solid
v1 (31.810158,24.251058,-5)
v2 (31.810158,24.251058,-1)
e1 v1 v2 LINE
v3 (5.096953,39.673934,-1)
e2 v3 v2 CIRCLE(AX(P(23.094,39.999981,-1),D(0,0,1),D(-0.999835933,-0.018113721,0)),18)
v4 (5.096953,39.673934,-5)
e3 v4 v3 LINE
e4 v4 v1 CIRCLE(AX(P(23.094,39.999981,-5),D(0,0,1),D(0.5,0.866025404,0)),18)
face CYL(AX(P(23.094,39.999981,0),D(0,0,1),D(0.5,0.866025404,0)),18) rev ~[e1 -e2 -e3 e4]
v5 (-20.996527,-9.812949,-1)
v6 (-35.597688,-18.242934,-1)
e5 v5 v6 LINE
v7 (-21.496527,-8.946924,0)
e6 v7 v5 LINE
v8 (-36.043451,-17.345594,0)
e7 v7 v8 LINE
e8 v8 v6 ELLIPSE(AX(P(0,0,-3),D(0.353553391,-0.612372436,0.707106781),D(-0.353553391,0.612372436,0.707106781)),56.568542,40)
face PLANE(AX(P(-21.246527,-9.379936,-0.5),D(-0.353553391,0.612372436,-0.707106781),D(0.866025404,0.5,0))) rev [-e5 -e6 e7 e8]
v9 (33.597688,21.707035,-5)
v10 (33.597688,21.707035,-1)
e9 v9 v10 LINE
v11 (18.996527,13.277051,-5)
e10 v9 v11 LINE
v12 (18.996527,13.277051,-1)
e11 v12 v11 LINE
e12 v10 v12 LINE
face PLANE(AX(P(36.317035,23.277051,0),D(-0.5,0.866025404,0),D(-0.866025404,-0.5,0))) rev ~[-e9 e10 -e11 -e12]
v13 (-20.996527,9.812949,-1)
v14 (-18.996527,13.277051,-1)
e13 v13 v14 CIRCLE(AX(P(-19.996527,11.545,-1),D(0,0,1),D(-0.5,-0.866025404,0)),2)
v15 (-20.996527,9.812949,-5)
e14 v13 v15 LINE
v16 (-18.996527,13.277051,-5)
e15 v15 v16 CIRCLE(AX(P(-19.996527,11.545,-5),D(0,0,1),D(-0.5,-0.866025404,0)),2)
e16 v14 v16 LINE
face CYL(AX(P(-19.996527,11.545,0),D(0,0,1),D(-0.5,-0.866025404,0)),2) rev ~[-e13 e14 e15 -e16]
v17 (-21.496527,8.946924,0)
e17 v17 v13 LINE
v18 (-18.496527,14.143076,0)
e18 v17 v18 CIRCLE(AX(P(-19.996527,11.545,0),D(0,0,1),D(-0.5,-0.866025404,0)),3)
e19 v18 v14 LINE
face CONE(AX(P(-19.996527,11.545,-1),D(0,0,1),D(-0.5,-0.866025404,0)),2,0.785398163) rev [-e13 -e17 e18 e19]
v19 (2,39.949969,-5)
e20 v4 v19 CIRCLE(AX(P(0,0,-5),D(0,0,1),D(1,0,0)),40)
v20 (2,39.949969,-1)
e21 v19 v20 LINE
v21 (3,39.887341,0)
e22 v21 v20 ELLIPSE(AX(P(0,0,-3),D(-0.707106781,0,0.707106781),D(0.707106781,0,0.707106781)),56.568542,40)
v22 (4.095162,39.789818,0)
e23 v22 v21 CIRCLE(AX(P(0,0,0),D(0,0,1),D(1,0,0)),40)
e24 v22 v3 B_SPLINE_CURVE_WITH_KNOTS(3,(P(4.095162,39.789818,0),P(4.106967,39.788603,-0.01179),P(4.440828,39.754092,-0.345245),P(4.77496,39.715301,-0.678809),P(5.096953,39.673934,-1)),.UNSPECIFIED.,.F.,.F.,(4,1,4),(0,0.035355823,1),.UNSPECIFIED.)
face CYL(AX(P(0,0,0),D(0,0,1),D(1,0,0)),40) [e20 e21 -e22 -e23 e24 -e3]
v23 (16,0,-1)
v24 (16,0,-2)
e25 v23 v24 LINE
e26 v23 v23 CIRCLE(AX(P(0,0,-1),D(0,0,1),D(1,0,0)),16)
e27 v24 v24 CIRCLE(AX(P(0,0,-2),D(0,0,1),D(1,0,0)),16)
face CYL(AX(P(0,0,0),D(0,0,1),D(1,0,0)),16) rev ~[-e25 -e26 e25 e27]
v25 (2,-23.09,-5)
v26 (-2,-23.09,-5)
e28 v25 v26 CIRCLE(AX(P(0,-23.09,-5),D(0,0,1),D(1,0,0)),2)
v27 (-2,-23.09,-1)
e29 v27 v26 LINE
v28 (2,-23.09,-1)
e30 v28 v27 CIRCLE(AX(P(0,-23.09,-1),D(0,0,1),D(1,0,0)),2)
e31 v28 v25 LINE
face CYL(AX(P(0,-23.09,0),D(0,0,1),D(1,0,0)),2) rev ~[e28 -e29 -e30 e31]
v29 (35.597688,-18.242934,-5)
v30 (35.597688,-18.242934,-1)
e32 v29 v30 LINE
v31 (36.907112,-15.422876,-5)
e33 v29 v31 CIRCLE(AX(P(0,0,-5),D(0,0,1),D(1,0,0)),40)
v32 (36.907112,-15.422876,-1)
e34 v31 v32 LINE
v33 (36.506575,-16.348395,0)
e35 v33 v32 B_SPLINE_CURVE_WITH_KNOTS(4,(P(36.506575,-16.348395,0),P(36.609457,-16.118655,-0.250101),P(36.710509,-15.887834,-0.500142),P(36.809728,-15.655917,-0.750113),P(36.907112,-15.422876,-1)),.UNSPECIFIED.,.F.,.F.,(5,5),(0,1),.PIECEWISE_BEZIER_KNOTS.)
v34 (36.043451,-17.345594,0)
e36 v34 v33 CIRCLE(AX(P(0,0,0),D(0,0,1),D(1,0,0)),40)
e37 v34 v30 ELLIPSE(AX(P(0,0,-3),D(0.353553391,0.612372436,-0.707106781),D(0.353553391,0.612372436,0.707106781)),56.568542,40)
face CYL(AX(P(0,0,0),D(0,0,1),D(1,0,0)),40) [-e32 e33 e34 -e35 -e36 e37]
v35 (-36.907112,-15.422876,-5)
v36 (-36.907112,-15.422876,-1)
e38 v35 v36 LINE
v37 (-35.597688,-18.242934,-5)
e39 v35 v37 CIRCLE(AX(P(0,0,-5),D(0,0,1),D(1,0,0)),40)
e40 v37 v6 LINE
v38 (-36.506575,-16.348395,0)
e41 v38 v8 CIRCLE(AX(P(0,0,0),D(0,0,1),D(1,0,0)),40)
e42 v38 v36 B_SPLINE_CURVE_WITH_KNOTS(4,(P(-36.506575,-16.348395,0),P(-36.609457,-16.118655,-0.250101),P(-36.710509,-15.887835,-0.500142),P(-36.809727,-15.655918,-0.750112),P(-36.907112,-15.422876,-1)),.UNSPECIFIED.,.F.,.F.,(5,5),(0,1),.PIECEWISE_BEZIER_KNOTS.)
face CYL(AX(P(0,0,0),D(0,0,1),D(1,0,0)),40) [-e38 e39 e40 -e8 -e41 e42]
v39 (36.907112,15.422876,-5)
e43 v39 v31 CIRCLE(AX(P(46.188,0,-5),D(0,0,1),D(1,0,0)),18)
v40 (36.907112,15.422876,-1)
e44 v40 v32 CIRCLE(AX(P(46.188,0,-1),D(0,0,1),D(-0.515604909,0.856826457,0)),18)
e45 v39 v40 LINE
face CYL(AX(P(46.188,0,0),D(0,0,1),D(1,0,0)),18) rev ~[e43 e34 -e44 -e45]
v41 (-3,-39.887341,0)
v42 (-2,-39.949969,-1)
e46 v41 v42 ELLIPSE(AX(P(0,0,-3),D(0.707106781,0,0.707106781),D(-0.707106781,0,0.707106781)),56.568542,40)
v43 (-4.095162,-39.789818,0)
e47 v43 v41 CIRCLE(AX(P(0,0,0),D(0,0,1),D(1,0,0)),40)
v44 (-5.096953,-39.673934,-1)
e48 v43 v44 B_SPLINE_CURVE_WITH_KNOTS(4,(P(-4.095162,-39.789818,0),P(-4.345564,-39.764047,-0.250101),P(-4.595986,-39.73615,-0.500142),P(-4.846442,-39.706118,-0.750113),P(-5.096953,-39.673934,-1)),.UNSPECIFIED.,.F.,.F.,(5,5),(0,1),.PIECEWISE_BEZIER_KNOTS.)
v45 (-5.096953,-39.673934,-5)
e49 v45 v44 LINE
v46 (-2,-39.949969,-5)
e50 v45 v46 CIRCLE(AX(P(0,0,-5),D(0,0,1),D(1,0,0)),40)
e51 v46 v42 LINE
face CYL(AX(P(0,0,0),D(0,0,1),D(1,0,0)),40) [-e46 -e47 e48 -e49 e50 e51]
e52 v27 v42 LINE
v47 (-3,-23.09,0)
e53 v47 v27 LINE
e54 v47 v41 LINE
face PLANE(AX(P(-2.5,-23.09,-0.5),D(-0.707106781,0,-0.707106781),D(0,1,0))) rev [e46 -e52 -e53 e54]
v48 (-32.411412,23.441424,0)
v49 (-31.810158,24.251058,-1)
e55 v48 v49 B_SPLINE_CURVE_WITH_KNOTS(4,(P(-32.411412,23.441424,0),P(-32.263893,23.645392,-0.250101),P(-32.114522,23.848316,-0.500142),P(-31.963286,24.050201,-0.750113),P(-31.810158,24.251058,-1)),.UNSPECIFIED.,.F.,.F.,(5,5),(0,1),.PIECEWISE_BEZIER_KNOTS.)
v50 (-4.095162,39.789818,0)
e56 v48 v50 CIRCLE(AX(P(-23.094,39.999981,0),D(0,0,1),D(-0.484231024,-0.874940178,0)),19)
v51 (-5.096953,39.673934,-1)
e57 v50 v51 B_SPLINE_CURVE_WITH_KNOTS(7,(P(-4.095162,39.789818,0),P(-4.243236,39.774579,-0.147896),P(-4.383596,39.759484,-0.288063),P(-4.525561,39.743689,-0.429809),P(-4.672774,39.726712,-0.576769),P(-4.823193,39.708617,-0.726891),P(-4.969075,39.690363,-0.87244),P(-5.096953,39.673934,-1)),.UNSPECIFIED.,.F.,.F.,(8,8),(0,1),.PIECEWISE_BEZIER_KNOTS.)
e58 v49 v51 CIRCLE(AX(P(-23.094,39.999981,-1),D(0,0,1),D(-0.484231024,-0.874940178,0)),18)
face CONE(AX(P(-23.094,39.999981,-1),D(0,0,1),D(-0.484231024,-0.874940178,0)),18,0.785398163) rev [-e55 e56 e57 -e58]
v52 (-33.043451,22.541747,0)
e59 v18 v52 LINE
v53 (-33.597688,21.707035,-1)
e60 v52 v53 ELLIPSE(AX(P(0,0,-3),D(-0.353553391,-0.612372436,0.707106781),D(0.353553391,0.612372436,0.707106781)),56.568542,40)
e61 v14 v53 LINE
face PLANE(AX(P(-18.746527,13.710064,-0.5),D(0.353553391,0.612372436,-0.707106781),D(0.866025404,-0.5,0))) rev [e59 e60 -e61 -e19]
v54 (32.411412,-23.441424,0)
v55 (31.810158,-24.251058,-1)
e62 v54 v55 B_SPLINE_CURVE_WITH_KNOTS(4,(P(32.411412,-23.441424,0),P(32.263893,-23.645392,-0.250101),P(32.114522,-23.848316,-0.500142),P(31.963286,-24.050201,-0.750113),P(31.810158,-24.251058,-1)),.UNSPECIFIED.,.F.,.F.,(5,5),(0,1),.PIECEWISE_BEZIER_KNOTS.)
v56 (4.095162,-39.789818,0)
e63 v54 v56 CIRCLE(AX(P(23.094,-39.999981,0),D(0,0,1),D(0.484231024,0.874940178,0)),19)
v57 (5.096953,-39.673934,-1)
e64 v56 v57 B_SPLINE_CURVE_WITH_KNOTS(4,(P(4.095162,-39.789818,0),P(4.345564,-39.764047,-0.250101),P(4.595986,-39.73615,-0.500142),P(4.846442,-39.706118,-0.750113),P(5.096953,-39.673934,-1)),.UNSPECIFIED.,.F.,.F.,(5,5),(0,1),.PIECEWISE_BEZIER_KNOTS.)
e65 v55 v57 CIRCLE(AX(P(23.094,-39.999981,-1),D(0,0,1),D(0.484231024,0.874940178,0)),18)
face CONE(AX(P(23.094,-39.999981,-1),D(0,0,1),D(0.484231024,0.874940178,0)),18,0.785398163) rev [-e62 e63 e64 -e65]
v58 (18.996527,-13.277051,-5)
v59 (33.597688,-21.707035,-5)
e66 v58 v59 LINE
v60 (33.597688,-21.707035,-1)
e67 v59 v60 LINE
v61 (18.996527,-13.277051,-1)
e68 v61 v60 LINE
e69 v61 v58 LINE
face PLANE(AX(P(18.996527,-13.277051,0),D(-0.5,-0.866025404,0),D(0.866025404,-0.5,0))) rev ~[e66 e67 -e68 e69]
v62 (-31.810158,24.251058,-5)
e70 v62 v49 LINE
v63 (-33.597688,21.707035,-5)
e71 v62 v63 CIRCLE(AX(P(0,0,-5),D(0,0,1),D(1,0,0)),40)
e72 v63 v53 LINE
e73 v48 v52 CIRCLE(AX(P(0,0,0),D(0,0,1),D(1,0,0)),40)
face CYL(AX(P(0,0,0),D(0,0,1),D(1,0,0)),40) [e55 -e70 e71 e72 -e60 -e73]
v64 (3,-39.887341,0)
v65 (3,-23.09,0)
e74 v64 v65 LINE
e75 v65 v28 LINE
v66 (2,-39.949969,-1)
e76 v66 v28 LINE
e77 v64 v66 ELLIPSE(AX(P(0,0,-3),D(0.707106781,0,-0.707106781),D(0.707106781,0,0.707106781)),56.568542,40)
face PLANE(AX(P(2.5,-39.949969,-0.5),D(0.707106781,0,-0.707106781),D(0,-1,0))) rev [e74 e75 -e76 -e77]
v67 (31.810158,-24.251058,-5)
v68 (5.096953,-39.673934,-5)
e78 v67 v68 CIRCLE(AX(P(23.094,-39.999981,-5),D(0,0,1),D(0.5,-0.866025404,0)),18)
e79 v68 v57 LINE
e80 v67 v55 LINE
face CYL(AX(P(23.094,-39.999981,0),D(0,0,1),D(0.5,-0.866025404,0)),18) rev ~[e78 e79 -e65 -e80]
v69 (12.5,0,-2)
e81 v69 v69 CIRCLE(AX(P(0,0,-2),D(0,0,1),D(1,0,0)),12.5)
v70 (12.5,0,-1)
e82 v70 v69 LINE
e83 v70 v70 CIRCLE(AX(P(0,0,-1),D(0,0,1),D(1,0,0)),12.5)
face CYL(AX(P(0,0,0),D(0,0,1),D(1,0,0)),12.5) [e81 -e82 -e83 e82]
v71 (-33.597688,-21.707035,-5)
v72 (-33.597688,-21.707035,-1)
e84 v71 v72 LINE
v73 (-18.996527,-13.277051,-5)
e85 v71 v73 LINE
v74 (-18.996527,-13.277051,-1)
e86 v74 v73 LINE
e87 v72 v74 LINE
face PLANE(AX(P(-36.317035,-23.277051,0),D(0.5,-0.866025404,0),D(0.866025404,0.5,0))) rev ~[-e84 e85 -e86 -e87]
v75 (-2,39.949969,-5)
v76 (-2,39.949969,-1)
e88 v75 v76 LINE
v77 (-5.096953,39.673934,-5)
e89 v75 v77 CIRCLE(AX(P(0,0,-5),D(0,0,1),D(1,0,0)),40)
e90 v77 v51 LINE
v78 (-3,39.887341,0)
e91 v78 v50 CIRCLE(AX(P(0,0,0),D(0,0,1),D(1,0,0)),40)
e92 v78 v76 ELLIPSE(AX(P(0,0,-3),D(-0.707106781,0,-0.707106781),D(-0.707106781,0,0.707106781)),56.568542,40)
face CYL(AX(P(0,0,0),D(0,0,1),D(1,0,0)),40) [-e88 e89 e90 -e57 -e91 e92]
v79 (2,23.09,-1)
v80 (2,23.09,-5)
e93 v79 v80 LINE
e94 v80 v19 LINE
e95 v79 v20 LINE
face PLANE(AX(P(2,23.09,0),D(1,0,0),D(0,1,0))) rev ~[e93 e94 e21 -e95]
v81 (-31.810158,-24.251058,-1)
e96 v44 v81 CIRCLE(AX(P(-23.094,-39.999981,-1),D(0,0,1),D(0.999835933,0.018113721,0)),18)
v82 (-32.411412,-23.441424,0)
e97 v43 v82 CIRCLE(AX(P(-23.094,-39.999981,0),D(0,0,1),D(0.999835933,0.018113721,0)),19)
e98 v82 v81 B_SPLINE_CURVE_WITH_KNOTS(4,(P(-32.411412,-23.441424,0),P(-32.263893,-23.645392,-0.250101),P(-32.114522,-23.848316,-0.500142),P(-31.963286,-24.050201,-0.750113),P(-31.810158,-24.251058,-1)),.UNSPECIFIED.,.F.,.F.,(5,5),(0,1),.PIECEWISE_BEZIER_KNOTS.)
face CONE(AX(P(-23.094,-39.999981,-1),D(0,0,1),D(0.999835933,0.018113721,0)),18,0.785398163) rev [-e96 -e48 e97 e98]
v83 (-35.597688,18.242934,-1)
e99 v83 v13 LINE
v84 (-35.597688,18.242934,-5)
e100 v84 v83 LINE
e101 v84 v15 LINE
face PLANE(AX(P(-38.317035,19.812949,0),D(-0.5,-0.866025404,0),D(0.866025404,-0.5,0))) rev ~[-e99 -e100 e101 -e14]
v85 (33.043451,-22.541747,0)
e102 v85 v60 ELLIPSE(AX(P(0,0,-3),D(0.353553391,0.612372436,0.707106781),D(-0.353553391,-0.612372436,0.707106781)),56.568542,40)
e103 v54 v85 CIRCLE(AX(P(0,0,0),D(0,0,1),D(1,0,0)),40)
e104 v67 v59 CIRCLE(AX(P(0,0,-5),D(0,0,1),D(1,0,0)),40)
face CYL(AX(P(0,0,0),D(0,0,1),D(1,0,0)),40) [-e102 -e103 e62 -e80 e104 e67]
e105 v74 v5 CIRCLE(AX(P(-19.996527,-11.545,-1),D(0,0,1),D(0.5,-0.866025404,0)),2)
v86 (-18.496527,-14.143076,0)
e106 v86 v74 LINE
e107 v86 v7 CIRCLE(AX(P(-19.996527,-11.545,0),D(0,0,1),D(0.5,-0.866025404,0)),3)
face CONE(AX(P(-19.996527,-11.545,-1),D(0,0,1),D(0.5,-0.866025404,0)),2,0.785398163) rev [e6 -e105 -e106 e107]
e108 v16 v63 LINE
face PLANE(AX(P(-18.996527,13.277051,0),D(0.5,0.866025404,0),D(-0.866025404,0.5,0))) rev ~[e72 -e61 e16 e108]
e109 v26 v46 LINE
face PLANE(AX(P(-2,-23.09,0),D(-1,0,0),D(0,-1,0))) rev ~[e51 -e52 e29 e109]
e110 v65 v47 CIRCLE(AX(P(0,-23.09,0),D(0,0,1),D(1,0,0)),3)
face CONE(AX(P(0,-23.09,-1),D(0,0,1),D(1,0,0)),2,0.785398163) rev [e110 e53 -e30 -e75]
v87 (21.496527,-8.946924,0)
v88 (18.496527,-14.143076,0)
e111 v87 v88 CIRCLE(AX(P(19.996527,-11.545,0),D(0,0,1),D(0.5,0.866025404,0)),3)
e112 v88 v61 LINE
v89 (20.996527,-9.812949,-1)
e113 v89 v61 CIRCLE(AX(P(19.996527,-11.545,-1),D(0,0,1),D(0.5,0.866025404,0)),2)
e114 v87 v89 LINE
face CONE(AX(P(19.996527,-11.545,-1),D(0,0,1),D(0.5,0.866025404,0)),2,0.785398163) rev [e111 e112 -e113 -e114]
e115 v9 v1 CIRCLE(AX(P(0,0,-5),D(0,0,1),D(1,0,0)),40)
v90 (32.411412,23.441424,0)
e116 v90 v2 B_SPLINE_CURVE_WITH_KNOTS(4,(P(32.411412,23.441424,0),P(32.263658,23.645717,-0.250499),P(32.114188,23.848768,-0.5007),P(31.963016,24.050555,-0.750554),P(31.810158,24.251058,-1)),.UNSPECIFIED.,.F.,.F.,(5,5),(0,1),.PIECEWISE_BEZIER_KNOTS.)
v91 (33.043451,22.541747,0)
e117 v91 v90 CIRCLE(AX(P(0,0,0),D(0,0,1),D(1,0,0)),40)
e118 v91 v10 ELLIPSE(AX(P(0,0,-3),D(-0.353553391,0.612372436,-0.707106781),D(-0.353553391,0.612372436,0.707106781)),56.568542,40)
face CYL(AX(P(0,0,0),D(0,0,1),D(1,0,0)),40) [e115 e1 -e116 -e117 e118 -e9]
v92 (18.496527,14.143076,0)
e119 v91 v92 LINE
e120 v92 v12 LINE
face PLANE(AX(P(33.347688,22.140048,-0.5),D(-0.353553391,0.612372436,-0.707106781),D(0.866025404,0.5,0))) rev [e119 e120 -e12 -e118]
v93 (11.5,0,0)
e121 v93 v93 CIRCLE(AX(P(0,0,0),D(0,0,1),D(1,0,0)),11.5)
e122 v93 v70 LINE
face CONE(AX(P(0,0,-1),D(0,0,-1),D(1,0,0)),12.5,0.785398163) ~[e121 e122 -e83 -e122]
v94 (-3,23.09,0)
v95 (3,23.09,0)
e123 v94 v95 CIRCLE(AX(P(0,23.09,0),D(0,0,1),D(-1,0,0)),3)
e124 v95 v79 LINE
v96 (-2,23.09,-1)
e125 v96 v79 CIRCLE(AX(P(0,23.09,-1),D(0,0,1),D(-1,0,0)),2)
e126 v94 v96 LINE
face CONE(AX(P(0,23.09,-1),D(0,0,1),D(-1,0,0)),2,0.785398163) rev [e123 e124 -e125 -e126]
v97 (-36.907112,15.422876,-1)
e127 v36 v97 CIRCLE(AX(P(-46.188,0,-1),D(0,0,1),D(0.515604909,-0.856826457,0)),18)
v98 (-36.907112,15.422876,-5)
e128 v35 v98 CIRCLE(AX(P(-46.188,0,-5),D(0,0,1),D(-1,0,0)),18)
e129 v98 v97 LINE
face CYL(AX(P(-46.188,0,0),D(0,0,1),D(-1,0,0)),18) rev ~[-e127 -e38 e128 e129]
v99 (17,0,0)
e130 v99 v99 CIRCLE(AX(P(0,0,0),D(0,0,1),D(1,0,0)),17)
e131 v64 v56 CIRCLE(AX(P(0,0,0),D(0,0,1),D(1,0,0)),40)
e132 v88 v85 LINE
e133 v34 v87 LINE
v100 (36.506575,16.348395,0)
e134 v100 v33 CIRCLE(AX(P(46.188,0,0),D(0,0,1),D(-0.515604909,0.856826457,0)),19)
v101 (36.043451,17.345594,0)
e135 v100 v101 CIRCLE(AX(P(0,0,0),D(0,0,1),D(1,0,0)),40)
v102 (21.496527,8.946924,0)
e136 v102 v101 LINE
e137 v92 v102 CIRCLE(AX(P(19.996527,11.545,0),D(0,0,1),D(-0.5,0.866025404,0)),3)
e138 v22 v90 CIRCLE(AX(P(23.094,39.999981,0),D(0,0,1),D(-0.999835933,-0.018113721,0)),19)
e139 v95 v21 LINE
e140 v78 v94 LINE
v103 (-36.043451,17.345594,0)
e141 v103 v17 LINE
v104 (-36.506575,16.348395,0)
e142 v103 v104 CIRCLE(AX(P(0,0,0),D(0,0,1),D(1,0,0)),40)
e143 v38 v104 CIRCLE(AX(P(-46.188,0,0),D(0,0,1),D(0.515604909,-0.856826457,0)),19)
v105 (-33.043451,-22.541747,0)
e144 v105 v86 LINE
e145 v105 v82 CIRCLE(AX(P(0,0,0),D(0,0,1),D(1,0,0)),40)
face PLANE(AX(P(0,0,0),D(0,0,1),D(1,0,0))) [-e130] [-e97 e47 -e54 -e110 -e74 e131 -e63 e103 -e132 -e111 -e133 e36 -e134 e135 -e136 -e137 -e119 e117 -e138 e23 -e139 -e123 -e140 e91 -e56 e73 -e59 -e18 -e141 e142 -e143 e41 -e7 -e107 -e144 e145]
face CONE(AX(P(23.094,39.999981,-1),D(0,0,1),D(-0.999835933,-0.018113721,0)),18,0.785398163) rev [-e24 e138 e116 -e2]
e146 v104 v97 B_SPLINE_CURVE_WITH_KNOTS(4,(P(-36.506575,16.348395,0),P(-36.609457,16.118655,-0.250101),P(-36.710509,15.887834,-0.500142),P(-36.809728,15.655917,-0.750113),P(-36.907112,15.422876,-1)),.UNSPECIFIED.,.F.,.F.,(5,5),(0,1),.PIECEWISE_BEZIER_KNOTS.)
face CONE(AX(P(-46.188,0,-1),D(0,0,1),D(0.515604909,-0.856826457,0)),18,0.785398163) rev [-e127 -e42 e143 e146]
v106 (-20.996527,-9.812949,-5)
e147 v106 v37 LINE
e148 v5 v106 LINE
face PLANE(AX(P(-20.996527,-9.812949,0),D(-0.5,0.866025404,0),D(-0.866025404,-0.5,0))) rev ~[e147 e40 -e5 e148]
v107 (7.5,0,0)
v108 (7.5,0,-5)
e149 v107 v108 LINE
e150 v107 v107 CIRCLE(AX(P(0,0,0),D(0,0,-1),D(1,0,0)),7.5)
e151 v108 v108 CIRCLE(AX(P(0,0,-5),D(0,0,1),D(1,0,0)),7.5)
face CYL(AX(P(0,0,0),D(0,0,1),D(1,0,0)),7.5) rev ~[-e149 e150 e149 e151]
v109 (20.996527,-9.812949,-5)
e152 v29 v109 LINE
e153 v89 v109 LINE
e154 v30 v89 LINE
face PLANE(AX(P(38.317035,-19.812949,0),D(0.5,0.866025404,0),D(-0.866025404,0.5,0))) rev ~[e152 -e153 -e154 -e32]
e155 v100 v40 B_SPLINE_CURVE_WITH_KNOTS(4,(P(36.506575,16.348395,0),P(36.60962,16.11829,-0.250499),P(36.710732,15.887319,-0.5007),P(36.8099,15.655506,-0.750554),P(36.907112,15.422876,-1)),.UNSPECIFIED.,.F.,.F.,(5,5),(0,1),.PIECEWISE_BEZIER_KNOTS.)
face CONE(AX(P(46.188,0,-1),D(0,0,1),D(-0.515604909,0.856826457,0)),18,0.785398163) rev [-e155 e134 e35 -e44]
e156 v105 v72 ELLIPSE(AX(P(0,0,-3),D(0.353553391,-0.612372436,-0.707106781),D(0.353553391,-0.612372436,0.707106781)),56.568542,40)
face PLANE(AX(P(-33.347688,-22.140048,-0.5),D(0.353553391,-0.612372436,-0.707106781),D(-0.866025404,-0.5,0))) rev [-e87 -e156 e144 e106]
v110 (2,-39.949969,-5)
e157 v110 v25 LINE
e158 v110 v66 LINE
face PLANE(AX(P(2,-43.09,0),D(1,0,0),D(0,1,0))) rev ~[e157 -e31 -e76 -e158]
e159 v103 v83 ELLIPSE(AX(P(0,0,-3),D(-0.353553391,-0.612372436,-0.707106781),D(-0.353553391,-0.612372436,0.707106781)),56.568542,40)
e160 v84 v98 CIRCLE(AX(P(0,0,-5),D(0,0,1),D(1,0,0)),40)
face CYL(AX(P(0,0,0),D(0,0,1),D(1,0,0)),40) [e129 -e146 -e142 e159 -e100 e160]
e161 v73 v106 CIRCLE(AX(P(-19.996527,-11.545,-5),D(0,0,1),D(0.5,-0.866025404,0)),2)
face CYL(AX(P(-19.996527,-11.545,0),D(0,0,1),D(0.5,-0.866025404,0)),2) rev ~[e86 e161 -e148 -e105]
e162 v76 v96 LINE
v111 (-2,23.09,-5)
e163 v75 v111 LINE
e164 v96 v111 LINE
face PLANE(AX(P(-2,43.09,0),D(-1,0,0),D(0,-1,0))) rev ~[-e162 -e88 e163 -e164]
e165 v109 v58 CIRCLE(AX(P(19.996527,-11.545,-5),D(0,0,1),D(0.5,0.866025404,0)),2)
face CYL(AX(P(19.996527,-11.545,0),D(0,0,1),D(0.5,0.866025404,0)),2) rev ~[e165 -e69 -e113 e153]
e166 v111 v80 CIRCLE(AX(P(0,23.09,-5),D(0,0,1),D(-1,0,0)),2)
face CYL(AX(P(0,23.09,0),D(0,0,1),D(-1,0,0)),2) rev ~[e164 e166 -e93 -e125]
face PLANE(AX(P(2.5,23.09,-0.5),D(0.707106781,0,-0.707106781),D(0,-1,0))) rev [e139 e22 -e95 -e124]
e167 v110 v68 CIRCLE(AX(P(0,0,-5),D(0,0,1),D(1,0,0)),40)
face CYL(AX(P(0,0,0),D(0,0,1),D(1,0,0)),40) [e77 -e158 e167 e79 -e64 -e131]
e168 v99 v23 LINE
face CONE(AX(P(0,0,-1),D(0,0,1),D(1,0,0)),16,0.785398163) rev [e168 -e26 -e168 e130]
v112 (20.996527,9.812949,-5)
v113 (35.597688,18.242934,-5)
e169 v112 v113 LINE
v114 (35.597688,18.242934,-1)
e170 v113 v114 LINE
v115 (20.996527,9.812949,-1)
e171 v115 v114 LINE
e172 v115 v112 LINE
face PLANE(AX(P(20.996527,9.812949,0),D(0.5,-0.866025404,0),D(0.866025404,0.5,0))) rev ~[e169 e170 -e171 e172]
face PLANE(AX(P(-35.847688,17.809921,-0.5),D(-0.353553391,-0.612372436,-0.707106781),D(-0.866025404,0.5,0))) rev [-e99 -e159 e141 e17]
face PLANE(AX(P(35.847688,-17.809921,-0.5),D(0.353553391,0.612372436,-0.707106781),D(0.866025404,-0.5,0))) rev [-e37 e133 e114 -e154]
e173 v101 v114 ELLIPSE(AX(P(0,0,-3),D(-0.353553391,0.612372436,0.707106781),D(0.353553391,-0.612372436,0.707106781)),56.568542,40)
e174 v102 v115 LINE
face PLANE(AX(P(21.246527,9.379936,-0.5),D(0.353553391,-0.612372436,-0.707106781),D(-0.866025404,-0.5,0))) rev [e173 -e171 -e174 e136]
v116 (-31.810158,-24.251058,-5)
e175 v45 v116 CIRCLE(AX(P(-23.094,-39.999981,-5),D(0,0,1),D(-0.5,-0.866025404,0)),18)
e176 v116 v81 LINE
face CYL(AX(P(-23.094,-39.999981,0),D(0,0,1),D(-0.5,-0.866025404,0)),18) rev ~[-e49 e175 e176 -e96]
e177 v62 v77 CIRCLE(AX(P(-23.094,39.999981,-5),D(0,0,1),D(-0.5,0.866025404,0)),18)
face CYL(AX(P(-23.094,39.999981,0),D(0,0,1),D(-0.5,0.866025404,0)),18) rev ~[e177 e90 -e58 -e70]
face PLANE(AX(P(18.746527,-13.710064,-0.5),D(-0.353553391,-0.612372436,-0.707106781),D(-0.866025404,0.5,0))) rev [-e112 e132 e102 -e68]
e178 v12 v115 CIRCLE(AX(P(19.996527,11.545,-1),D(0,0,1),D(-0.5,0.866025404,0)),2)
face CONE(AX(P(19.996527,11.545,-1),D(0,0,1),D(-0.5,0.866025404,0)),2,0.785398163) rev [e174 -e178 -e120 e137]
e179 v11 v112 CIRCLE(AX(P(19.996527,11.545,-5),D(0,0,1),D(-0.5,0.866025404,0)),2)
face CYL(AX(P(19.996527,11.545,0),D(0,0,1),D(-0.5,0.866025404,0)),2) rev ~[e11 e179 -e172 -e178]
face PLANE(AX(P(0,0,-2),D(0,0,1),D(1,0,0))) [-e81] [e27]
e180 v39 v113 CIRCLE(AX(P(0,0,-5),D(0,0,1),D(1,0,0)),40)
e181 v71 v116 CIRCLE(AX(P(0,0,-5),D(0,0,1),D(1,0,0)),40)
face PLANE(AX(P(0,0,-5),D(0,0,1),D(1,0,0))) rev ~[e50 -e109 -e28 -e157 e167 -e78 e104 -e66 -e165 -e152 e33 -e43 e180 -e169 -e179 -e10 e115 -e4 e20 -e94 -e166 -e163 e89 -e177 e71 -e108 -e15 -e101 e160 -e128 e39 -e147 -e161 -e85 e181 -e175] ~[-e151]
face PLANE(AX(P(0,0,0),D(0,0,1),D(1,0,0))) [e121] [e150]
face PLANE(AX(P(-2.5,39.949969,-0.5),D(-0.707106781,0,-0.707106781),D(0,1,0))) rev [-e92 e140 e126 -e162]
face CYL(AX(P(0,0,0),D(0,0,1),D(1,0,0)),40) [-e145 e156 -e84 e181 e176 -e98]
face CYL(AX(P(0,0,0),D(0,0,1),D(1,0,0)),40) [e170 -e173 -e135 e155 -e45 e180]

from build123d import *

# Parameters (mm, degrees)
SKETCH_R           = 40
PAD_DEPTH          = 5
SKETCH001_R        = 7.5
SKETCH001_R_2      = 18
POCKET_DEPTH       = 5
POLARPATTERN_COUNT = 6
SKETCH002_R        = 16
SKETCH002_R_2      = 12.5
POCKET001_DEPTH    = 2
CHAMFER_SIZE       = 1
CHAMFER001_SIZE    = 1


with BuildPart() as part:
    # Sketch → Pad (new body)
    with BuildSketch(Plane.XY):
        Circle(SKETCH_R)
    extrude(amount=-PAD_DEPTH)

    # Sketch001 → Pocket (cut)
    with BuildSketch(Plane.XY):
        Circle(SKETCH001_R)
        with Locations((46.188, 0)):
            Circle(SKETCH001_R_2)
        with BuildLine():
            ThreePointArc((-2, 23.09), (0, 21.09), (2, 23.09))
            Line((2, 23.09), (2, 43.09))
            ThreePointArc((2, 43.09), (0, 45.09), (-2, 43.09))
            Line((-2, 43.09), (-2, 23.09))
        make_face()
    pocket = extrude(amount=-POCKET_DEPTH, mode=Mode.SUBTRACT)

    # PolarPattern: Pocket ×6 about axis
    polarpattern_axis = Axis((0, 0, 0), (0, 0, 1))
    for i in range(1, POLARPATTERN_COUNT):
        add(pocket.rotate(polarpattern_axis, i * 360 / POLARPATTERN_COUNT), mode=Mode.SUBTRACT)

    # Sketch002 → Pocket001 (cut)
    with BuildSketch(Plane.XY):
        Circle(SKETCH002_R)
        Circle(SKETCH002_R_2, mode=Mode.SUBTRACT)
    extrude(amount=-POCKET001_DEPTH, mode=Mode.SUBTRACT)

    # Chamfer
    chamfer_edges = [part.edges().sort_by_distance(p)[0] for p in [
        (-16, 0, 0),
        (-12.5, 0, 0),
    ]]
    chamfer(chamfer_edges, length=CHAMFER_SIZE)

    # Chamfer001
    chamfer001_edges = [part.edges().sort_by_distance(p)[0] for p in [
        (-28.188, 0, 0),
        (-28.297107, -14.027941, 0),
        (-18.264476, -10.545, 0),
        (-26.297107, -17.492043, 0),
        (-14.094, -24.411524, 0),
        (-2, -31.519984, 0),
        (0, -21.09, 0),
        (2, -31.519984, 0),
        (14.094, -24.411524, 0),
        (26.297107, -17.492043, 0),
        (18.264476, -10.545, 0),
        (28.297107, -14.027941, 0),
        (28.188, 0, 0),
        (28.297107, 14.027941, 0),
        (18.264476, 10.545, 0),
        (26.297107, 17.492043, 0),
        (14.094, 24.411524, 0),
        (2, 31.519984, 0),
        (0, 21.09, 0),
        (-2, 31.519984, 0),
        (-14.094, 24.411524, 0),
        (-26.297107, 17.492043, 0),
        (-18.264476, 10.545, 0),
        (-28.297107, 14.027941, 0),
    ]]
    chamfer(chamfer001_edges, length=CHAMFER001_SIZE)


solid = part.part
